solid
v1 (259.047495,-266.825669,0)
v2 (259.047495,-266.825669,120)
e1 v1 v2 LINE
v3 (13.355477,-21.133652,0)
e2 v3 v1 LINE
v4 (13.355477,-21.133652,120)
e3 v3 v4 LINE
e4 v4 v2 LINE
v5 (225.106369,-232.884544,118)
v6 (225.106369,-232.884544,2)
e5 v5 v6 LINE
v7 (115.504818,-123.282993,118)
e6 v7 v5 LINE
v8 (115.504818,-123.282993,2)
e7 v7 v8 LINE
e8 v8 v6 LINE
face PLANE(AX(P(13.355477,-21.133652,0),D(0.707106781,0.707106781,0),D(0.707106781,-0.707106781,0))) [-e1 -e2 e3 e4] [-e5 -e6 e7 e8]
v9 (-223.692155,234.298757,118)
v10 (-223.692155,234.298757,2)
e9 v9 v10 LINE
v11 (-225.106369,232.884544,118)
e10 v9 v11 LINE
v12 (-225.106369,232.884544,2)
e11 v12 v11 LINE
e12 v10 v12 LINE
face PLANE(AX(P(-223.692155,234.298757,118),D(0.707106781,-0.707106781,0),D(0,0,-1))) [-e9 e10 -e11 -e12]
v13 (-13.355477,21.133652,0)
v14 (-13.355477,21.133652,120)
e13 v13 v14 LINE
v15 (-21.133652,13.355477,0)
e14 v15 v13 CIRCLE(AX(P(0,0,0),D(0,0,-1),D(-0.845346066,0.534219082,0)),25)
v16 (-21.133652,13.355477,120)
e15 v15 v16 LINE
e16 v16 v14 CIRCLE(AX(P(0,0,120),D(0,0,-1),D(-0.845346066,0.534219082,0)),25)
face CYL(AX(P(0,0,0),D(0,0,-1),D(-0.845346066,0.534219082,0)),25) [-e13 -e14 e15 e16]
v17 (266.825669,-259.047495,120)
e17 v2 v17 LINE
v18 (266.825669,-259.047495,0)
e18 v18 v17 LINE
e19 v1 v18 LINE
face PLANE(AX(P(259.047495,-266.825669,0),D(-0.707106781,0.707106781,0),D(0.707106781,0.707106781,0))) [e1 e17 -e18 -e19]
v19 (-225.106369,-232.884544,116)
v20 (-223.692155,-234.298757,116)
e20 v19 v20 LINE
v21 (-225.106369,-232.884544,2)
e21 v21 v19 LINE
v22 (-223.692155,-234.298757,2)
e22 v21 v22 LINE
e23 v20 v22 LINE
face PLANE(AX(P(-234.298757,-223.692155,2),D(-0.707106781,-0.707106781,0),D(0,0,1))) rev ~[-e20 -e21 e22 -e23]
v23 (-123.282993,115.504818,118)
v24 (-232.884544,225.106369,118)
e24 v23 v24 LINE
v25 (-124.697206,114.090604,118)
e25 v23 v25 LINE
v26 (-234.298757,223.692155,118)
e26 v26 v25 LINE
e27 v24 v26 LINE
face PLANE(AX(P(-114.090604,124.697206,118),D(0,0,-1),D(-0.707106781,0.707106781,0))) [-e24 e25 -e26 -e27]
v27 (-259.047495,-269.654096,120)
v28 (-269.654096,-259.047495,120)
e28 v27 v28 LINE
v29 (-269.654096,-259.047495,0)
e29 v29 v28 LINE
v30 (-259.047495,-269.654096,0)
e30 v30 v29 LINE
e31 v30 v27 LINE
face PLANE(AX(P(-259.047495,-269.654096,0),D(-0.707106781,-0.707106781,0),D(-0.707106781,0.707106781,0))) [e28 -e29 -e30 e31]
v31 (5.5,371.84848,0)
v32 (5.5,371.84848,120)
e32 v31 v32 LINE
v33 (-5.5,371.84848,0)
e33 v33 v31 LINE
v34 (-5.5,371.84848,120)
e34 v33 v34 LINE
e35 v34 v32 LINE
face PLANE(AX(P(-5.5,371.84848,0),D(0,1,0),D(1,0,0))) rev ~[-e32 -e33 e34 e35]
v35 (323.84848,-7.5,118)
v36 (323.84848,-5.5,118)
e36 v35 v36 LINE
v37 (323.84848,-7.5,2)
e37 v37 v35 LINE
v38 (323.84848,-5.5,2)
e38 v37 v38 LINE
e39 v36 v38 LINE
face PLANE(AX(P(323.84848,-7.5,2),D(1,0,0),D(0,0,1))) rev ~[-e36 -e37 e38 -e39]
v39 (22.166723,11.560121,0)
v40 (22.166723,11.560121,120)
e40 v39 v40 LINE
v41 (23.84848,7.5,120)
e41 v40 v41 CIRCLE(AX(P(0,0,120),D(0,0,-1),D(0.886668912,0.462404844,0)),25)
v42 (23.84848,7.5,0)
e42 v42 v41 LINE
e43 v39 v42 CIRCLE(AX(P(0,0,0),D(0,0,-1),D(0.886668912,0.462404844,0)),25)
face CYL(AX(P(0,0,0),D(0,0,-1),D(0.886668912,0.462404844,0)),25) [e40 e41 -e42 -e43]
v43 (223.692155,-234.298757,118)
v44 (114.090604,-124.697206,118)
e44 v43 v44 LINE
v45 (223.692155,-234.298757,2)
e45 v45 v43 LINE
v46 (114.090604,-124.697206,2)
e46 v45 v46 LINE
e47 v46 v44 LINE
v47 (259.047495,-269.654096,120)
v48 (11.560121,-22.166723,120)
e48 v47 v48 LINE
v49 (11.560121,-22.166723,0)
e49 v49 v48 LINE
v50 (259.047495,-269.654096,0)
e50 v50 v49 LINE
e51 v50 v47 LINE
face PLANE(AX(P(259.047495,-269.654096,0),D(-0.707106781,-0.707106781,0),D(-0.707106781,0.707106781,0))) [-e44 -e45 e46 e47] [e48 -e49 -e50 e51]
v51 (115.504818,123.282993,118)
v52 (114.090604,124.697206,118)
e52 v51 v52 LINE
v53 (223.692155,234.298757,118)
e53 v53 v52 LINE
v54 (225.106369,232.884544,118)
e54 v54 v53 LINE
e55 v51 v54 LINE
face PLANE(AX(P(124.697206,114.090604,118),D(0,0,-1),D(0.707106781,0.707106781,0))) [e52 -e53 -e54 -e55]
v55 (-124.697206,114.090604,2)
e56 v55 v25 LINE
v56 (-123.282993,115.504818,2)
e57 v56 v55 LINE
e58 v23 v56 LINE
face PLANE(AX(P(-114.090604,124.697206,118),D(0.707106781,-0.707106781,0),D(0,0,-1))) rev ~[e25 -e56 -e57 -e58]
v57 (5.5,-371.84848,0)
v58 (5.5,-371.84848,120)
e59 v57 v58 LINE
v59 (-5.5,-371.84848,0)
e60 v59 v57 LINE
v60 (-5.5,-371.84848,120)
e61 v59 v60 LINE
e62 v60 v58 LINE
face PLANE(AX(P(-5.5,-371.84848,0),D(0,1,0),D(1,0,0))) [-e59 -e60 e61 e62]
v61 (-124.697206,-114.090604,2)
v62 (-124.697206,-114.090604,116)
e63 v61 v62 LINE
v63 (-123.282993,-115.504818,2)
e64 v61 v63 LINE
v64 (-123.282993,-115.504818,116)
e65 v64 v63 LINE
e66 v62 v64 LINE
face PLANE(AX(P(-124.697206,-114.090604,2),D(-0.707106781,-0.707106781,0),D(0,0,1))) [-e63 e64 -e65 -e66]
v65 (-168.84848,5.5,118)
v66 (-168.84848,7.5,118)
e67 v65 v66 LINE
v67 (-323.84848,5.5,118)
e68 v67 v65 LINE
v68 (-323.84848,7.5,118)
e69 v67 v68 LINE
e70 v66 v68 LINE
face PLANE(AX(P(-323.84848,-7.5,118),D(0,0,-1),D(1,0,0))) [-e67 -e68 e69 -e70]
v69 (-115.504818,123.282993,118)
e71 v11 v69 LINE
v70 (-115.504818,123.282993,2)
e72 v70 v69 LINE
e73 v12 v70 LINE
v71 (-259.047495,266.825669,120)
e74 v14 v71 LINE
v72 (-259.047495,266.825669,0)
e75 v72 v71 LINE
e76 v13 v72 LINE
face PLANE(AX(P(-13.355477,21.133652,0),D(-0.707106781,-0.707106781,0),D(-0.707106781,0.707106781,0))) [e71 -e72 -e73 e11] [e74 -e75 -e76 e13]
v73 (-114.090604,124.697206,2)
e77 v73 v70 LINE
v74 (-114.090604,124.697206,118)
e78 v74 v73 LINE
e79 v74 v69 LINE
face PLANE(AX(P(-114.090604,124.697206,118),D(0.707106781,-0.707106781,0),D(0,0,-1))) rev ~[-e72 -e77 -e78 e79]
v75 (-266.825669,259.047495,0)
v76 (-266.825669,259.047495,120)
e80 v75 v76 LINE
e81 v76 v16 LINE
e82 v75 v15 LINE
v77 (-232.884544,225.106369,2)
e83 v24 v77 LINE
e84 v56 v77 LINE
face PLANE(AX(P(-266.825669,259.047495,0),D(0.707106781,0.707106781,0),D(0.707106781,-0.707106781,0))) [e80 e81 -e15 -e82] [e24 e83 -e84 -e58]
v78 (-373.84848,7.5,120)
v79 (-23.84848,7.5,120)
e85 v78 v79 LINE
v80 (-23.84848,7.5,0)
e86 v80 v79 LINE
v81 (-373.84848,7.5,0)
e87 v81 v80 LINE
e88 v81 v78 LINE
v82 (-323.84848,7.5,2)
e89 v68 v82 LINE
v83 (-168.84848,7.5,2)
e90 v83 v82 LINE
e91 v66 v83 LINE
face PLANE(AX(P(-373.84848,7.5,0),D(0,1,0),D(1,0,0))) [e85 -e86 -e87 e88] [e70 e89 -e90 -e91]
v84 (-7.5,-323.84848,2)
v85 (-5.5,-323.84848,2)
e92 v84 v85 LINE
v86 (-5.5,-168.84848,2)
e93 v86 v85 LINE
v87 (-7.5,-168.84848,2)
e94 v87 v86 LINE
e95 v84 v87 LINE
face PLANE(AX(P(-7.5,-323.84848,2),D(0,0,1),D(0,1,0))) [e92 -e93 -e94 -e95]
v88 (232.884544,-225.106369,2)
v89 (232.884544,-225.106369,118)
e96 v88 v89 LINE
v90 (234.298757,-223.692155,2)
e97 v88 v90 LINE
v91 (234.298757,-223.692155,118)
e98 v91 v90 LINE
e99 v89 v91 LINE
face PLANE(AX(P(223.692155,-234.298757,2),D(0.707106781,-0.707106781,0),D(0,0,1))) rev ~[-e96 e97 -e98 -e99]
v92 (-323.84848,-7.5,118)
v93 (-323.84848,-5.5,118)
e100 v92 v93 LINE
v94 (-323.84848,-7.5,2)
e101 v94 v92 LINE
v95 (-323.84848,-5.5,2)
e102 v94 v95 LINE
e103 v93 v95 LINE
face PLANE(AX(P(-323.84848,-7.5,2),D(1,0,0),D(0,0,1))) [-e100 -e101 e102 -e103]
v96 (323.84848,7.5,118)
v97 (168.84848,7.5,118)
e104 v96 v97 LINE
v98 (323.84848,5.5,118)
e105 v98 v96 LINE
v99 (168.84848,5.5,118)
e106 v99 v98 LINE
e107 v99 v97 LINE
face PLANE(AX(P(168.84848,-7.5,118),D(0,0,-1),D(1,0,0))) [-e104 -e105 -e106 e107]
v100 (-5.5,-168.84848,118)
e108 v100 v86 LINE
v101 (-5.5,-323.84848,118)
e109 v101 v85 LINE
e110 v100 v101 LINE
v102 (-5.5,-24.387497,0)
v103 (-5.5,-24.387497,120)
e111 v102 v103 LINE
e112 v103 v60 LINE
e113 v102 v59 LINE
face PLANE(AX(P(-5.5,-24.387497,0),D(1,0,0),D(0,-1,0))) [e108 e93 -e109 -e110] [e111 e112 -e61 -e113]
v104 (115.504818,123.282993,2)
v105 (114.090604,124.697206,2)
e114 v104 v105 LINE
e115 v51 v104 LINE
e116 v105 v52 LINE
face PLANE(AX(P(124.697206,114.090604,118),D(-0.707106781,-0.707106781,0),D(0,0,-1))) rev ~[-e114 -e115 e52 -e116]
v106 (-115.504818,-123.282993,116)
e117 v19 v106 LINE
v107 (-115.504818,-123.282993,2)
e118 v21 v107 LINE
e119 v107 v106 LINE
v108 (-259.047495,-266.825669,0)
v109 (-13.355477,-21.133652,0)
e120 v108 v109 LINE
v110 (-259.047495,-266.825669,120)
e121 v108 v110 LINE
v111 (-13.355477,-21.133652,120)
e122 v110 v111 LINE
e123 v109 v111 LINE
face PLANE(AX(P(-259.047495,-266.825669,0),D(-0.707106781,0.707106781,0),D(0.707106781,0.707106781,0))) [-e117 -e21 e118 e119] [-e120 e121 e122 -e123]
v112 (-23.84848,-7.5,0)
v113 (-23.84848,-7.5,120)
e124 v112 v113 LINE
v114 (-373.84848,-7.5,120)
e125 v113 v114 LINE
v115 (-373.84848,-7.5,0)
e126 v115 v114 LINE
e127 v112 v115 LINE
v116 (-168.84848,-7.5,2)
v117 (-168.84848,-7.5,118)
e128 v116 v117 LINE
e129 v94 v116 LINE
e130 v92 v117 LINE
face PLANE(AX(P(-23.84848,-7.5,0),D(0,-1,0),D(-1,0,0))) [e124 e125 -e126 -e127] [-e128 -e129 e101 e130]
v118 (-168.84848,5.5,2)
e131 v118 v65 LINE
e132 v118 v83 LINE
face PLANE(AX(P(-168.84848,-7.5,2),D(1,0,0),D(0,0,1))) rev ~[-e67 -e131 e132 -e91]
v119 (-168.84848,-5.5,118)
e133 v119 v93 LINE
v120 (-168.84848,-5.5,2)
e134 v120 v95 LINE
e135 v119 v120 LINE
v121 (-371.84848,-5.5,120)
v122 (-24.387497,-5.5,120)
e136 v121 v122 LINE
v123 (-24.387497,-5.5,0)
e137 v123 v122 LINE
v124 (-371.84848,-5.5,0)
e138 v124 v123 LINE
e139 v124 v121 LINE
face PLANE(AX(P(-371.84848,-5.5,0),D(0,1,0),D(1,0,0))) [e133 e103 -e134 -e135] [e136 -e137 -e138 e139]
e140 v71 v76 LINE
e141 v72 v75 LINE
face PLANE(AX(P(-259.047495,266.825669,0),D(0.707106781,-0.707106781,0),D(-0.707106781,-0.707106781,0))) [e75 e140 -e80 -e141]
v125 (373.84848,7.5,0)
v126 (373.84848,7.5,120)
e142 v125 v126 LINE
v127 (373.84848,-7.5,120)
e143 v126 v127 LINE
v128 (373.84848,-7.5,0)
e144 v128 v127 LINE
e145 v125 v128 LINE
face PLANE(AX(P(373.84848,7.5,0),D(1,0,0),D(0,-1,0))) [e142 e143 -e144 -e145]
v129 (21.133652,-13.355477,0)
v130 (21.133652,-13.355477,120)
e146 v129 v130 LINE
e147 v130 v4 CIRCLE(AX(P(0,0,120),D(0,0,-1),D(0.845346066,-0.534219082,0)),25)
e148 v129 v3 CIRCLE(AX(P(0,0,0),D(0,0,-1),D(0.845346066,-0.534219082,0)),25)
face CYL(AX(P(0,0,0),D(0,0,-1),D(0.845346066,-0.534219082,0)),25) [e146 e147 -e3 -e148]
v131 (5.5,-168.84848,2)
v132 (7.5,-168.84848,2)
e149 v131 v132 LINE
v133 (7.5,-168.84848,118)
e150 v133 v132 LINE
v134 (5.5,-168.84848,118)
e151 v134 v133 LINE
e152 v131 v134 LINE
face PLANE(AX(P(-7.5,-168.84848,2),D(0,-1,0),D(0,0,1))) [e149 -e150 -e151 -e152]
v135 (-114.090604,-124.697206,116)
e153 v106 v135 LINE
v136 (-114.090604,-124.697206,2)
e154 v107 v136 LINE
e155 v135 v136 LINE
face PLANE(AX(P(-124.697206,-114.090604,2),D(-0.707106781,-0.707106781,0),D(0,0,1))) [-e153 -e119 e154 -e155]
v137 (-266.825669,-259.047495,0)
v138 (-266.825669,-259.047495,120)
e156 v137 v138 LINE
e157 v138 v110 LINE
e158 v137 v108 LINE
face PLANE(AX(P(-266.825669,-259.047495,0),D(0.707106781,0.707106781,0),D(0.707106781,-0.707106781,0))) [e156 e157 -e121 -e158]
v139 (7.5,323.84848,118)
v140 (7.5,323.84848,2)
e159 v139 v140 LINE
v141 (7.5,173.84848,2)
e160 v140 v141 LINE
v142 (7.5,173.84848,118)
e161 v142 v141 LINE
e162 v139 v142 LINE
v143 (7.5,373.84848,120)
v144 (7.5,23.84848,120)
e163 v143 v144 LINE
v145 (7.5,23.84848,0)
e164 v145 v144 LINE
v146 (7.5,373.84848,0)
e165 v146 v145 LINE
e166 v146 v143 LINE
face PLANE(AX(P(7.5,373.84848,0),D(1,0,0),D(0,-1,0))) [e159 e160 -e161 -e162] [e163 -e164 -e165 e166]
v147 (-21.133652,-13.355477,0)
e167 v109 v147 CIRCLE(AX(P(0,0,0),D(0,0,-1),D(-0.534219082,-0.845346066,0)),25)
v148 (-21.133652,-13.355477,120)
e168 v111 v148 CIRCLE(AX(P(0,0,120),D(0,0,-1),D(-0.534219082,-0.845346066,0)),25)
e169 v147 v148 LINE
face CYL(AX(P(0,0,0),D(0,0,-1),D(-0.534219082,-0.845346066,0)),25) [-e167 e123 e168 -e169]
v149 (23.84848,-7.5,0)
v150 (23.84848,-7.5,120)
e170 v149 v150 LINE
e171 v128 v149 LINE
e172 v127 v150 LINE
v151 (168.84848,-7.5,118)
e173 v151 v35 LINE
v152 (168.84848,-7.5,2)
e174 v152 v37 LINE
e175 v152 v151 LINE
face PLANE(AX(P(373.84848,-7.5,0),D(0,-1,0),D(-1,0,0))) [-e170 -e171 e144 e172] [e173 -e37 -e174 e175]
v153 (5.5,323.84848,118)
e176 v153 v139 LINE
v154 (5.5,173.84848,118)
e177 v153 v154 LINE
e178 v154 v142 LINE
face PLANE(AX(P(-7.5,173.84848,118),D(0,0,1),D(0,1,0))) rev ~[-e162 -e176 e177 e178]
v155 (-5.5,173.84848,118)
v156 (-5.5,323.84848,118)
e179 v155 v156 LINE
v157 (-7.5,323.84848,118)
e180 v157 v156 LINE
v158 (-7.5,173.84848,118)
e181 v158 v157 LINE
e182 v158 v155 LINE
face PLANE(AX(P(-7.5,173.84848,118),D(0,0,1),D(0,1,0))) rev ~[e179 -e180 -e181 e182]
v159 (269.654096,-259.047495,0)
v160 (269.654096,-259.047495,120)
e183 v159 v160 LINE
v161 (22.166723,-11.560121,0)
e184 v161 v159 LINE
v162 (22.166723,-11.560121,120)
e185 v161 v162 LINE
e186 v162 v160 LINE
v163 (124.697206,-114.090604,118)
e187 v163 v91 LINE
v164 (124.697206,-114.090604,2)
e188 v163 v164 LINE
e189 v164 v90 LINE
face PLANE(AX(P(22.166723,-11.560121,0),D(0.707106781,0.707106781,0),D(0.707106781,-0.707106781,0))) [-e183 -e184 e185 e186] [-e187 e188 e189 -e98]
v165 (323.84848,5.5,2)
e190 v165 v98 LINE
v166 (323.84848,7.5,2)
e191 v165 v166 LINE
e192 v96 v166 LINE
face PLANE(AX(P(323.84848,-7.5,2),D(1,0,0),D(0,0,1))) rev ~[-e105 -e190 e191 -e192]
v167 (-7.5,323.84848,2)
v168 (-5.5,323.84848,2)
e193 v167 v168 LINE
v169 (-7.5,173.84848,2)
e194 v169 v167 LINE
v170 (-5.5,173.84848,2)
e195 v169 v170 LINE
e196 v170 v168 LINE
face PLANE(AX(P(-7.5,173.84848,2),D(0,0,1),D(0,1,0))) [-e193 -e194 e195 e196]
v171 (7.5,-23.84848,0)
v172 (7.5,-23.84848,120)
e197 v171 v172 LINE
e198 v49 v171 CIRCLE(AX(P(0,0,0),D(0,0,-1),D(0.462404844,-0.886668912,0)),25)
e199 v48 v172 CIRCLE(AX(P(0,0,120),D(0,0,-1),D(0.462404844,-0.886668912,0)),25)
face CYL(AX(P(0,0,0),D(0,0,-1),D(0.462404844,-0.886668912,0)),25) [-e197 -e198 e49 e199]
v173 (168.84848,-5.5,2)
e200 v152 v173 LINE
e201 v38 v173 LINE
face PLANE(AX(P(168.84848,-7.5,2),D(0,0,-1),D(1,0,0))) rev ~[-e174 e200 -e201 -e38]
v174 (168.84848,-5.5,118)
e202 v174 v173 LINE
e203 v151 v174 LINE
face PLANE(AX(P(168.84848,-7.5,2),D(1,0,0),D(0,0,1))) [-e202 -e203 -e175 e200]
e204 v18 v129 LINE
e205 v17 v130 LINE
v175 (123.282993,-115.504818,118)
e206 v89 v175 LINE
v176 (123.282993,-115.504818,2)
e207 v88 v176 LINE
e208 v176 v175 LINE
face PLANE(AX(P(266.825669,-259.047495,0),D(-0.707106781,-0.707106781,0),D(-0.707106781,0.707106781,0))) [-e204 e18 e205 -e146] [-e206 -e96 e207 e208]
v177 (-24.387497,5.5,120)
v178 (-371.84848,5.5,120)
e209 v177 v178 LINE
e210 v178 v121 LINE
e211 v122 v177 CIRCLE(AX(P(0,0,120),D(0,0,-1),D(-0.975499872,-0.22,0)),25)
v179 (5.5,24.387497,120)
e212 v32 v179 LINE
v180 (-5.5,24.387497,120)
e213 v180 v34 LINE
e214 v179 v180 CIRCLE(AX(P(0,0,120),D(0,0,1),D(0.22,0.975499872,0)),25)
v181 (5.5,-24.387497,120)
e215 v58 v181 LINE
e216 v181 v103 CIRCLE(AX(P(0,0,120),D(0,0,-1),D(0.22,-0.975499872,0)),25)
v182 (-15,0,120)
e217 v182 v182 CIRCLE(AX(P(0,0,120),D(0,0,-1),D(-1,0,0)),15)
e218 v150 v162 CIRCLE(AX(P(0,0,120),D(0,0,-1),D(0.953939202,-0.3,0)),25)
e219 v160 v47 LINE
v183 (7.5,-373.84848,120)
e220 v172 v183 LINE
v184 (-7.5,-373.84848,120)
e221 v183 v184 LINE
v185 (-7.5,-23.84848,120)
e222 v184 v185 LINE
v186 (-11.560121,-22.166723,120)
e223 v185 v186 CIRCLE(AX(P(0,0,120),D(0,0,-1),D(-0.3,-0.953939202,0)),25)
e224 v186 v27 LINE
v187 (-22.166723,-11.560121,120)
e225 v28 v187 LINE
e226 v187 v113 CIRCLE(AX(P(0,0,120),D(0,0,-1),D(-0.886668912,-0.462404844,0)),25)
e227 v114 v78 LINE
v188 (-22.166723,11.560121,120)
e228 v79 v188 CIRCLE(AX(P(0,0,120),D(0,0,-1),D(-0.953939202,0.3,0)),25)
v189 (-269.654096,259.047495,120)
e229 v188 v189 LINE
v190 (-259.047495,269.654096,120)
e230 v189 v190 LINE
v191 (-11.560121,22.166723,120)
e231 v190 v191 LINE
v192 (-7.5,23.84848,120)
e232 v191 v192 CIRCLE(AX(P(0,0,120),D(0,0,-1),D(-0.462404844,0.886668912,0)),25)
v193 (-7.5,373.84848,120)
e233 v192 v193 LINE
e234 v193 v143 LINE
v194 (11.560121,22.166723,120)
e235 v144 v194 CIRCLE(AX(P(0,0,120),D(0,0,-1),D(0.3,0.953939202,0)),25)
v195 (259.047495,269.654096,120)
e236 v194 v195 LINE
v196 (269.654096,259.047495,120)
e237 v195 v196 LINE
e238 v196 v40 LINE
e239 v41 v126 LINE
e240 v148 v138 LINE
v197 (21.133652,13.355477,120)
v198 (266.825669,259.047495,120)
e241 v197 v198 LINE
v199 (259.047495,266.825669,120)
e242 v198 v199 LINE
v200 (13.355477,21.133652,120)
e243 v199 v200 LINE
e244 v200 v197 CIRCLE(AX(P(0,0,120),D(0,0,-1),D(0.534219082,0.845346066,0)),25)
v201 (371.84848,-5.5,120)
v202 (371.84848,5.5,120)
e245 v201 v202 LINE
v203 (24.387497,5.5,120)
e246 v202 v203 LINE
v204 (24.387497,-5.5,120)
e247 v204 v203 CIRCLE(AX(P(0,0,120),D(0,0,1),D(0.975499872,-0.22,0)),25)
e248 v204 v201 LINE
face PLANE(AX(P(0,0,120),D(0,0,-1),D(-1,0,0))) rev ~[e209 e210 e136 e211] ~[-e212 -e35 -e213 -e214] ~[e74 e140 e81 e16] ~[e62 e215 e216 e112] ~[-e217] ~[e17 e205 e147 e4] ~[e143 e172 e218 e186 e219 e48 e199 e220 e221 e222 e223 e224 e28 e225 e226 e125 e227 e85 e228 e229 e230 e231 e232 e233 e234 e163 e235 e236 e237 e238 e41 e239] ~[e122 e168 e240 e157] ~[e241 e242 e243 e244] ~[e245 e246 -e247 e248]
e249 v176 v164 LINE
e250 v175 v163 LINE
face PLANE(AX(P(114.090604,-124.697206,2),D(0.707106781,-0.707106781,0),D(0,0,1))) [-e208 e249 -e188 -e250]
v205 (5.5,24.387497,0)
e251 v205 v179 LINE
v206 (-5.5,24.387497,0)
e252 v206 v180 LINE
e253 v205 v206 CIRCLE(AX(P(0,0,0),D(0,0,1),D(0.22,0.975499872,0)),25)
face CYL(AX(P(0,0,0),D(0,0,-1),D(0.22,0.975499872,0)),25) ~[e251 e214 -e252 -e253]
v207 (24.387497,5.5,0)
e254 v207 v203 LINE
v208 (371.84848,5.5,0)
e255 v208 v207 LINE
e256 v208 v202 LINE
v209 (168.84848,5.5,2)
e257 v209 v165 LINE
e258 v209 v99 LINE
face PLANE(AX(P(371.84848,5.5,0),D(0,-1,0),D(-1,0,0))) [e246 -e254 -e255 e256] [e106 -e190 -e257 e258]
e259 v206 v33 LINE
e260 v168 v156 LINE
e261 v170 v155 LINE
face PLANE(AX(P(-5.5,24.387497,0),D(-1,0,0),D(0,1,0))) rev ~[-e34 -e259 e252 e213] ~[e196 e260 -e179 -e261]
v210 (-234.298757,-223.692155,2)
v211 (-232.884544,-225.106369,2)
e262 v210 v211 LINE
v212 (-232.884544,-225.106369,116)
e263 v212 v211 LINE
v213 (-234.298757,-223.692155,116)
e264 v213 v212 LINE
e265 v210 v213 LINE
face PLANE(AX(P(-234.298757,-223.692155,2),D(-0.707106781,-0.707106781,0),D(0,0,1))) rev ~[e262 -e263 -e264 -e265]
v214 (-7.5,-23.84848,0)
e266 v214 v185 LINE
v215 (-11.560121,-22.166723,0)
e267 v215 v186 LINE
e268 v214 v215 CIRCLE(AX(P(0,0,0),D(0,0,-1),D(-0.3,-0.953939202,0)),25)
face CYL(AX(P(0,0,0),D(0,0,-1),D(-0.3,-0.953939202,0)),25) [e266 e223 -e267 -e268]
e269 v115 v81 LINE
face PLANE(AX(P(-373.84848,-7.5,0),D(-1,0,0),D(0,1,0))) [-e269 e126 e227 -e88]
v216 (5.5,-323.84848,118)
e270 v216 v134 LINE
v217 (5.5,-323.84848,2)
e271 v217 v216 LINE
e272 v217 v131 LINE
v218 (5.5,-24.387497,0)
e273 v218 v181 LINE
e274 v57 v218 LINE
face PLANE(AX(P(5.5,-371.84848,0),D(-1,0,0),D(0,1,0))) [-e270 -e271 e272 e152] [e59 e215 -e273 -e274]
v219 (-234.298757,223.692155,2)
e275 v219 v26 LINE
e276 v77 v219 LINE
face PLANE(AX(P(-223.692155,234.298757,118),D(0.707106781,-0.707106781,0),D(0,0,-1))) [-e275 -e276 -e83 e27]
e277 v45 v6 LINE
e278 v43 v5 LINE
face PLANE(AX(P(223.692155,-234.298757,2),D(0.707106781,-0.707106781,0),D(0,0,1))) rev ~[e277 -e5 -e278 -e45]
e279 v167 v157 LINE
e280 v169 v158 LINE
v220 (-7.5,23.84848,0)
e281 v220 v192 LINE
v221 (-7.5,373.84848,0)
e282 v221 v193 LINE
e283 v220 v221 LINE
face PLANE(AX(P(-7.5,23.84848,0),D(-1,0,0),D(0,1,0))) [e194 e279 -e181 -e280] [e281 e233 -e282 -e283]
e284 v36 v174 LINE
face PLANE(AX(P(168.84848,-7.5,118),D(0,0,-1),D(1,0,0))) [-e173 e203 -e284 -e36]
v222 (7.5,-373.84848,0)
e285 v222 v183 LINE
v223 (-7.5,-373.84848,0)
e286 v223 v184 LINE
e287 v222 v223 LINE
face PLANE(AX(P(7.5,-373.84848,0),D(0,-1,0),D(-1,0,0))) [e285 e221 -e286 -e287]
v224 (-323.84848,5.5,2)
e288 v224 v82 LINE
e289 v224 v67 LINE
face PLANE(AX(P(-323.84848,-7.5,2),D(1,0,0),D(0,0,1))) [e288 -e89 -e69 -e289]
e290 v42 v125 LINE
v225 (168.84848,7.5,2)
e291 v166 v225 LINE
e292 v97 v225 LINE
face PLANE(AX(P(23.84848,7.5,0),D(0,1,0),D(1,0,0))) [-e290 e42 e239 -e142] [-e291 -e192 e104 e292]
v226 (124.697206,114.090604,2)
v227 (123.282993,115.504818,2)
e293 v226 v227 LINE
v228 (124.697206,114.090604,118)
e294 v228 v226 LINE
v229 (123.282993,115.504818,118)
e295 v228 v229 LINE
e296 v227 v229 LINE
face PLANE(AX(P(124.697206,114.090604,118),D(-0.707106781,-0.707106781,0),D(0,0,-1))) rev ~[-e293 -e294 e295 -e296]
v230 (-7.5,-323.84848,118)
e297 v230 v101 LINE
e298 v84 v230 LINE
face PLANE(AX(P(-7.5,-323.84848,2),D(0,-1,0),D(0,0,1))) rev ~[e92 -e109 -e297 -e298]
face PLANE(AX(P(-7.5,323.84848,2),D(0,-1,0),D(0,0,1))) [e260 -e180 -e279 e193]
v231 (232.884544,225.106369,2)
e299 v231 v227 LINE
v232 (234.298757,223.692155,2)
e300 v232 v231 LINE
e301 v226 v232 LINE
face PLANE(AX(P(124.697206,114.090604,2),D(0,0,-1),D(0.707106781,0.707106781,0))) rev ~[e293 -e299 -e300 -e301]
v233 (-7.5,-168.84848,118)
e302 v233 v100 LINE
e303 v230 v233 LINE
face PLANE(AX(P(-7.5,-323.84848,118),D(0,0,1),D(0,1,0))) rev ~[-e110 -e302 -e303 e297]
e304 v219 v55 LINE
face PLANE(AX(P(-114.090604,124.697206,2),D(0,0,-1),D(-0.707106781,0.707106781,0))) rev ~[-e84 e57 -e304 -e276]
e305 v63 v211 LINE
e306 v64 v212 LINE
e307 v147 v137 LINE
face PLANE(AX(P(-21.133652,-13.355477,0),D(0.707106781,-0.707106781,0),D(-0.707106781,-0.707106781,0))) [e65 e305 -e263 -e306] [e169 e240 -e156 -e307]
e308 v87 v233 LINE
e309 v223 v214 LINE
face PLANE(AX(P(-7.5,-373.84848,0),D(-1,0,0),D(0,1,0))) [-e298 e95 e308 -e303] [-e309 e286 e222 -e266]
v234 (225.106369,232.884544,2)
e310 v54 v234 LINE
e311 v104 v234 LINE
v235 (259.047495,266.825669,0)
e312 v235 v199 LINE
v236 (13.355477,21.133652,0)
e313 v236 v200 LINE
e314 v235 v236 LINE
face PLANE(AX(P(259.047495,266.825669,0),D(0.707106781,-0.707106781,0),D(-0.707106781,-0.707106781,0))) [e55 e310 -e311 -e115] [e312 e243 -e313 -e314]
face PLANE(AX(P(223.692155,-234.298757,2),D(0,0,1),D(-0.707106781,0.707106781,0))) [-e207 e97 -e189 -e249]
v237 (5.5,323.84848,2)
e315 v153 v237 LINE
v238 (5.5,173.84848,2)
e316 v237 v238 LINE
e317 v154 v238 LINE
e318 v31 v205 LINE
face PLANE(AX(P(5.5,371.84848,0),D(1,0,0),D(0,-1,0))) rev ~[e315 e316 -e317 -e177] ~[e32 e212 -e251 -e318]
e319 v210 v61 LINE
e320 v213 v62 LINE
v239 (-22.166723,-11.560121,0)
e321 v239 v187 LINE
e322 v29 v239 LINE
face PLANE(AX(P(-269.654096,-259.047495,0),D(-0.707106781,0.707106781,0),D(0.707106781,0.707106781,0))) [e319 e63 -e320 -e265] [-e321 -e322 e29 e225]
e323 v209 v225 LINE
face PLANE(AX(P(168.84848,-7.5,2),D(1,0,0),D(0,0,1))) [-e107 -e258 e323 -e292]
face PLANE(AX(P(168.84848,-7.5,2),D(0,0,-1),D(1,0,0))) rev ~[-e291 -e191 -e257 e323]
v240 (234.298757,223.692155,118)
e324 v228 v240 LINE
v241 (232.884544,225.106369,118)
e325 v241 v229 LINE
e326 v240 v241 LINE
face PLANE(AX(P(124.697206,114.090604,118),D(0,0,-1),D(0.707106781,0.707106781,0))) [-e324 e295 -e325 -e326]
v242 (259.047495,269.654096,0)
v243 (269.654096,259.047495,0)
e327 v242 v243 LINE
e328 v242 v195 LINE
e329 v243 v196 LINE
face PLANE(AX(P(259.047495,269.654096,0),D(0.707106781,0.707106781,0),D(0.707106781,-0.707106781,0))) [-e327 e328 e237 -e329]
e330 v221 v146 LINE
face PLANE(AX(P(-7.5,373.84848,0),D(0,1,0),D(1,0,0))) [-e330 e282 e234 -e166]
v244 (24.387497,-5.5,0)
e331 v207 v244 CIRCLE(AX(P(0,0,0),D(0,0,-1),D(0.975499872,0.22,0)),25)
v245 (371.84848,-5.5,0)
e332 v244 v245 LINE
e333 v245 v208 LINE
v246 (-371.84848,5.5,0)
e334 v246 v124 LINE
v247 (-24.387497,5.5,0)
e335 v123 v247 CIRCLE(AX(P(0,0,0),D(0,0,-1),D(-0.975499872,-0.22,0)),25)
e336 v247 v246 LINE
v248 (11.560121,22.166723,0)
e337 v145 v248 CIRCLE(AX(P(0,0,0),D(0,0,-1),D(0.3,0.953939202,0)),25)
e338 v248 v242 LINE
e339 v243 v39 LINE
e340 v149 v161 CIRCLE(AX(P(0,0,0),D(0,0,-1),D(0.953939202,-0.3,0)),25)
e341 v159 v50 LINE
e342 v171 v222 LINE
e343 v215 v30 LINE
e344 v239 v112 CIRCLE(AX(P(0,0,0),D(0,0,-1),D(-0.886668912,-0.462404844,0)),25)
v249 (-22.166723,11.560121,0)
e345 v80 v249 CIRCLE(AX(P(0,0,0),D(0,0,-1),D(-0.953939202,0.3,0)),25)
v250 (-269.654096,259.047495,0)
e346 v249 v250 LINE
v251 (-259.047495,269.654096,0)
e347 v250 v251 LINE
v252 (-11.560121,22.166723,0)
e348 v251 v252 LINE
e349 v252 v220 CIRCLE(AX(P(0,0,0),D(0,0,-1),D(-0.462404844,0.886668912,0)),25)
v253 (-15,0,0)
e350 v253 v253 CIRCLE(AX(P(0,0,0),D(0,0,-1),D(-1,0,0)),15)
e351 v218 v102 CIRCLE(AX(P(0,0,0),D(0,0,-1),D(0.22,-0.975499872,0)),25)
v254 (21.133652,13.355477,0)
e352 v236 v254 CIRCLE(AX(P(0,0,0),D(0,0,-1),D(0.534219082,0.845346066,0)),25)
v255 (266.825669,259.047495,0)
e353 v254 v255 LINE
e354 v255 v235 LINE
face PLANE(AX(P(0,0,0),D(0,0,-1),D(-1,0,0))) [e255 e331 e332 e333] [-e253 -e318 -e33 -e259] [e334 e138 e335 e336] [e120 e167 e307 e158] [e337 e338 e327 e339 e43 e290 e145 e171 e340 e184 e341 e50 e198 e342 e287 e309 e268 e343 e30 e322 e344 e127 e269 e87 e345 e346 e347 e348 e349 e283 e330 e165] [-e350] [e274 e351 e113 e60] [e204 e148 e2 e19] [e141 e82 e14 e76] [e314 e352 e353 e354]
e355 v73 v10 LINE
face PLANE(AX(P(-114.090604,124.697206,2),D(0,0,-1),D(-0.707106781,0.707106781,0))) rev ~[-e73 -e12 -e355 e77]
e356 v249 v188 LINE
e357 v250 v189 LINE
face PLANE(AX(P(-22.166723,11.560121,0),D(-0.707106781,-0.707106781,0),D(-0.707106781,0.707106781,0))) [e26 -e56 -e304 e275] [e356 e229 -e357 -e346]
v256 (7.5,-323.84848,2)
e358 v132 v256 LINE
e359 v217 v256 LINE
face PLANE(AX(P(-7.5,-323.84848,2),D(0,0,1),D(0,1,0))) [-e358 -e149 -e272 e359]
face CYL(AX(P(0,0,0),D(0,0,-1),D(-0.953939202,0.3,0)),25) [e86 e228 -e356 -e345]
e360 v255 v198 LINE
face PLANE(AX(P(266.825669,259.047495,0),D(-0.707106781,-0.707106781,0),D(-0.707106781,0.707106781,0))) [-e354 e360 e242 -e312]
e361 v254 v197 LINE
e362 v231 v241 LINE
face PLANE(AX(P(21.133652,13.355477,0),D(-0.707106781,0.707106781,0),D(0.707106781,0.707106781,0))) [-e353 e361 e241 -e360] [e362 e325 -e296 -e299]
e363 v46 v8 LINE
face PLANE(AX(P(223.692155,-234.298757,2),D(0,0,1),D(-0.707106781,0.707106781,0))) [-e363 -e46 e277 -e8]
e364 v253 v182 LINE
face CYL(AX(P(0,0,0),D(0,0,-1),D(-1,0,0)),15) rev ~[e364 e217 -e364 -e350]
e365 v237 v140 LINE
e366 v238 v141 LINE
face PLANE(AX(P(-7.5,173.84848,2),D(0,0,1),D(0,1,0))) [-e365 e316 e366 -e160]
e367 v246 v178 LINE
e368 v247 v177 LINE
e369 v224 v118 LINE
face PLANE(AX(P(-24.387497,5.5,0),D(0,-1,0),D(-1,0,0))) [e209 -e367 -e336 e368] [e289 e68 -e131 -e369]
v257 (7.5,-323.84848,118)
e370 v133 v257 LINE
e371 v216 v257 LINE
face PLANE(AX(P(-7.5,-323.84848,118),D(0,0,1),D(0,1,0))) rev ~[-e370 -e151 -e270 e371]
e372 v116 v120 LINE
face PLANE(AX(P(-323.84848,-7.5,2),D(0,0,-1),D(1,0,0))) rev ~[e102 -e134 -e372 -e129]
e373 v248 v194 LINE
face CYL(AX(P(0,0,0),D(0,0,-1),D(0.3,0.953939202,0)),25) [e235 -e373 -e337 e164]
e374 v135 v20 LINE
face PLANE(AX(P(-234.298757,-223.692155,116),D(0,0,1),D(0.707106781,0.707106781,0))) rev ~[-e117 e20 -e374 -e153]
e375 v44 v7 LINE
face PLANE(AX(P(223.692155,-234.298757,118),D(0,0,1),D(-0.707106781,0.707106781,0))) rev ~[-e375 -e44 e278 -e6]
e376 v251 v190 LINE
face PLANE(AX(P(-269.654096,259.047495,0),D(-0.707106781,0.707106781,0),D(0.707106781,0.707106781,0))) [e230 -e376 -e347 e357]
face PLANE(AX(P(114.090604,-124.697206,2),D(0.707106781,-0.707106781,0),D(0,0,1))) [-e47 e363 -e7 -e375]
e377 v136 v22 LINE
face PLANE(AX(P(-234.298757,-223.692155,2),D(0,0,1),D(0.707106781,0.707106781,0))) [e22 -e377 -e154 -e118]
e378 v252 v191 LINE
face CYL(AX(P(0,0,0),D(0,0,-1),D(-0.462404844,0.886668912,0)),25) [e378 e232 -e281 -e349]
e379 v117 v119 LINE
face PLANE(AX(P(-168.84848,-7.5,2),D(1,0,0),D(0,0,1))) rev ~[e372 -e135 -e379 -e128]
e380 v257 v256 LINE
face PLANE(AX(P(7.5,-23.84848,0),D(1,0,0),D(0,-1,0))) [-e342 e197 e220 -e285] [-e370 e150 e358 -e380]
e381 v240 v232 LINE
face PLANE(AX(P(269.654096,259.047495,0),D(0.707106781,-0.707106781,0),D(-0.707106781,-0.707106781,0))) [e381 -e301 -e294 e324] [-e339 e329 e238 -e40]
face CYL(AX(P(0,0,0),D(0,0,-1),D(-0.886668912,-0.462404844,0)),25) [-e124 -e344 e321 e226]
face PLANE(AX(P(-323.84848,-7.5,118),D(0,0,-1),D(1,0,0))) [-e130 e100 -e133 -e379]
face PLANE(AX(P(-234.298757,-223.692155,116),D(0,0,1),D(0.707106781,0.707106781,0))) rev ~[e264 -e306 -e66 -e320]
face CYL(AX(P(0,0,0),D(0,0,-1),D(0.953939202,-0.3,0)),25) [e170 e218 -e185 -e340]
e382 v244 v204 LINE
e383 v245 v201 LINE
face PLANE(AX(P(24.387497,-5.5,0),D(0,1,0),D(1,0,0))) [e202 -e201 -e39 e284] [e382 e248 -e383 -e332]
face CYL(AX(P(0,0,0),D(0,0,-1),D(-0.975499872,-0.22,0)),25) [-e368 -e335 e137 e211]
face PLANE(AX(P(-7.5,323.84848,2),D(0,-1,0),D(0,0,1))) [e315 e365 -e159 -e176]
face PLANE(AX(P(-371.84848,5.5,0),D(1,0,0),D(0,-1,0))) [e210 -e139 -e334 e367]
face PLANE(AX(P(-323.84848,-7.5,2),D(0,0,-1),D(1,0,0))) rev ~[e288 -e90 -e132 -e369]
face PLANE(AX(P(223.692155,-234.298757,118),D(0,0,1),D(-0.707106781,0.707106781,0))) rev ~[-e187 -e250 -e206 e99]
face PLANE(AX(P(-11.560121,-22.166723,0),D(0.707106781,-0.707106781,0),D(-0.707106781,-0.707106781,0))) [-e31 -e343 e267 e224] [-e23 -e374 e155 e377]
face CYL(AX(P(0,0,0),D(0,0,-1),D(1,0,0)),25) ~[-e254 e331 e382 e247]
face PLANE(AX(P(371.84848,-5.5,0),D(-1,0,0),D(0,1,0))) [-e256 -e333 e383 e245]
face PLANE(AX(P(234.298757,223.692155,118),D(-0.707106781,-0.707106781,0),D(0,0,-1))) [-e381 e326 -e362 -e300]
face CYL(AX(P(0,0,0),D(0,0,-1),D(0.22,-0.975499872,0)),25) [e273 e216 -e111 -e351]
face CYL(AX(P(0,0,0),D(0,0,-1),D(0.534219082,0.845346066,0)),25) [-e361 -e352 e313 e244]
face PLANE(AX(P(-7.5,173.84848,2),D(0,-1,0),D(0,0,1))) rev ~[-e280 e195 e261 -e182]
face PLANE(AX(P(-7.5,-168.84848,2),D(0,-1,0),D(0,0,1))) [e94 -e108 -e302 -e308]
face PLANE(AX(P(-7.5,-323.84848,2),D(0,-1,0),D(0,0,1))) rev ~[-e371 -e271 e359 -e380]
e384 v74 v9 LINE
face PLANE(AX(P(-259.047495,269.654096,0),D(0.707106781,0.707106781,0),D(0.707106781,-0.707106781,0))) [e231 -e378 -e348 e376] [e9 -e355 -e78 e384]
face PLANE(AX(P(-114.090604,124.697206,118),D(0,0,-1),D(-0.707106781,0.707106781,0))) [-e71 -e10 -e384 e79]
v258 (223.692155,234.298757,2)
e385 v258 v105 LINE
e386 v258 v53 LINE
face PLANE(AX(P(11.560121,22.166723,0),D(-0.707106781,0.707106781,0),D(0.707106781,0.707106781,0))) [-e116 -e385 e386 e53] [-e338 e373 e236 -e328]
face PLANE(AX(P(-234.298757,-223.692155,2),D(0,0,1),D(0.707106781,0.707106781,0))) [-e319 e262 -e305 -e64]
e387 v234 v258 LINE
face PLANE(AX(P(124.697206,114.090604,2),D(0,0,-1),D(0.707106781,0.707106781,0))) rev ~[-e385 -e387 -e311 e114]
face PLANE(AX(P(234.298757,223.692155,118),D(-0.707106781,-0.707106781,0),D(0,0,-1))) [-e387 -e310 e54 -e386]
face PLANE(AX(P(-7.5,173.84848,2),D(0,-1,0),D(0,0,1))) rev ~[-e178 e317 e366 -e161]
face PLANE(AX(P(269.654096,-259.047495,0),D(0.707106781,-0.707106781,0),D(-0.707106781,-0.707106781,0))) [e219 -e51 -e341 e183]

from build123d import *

# Parameters (mm, degrees)
SKETCH1_R           = 25
BOSS_EXTRUDE1_DEPTH = 120
BOSS_EXTRUDE3_DEPTH = 120
SKETCH5_W           = 116
SKETCH5_H           = 155
CUT_EXTRUDE1_DEPTH  = 20
SKETCH6_W           = 116
SKETCH6_H           = 150
CUT_EXTRUDE2_DEPTH  = 20
SKETCH7_W           = 116
SKETCH7_H           = 155
CUT_EXTRUDE3_DEPTH  = 20
SKETCH8_W           = 155
SKETCH8_H           = 116
CUT_EXTRUDE4_DEPTH  = 20
SKETCH9_W           = 114
SKETCH9_H           = 155
CUT_EXTRUDE5_DEPTH  = 20
SKETCH10_W          = 155
SKETCH10_H          = 116
CUT_EXTRUDE6_DEPTH  = 20
SKETCH12_W          = 116
SKETCH12_H          = 155
CUT_EXTRUDE7_DEPTH  = 20
SKETCH13_W          = 116
SKETCH13_H          = 155
CUT_EXTRUDE8_DEPTH  = 20
SKETCH14_R          = 15
CUT_EXTRUDE11_DEPTH = 543.148846766


with BuildPart() as part:
    # Sketch1 → Boss-Extrude1 (new body)
    with BuildSketch(Plane.XY):
        Circle(SKETCH1_R)
    extrude(amount=BOSS_EXTRUDE1_DEPTH)

    # Sketch2 → Boss-Extrude3 (add)
    with BuildSketch(Plane.XY):
        with BuildLine():
            Line((11.560121095, 22.166722813), (259.04749451, 269.654096228))
            Line((259.04749451, 269.654096228), (269.654096228, 259.04749451))
            Line((269.654096228, 259.04749451), (22.166722813, 11.560121095))
            ThreePointArc((22.166722813, 11.560121095), (23.096988313, 9.567085809), (23.848480035, 7.5))
            Line((23.848480035, 7.5), (373.848480035, 7.5))
            Line((373.848480035, 7.5), (373.848480035, -7.5))
            Line((373.848480035, -7.5), (23.848480035, -7.5))
            ThreePointArc((23.848480035, -7.5), (23.096988313, -9.567085809), (22.166722813, -11.560121095))
            Line((22.166722813, -11.560121095), (269.654096228, -259.04749451))
            Line((269.654096228, -259.04749451), (259.04749451, -269.654096228))
            Line((259.04749451, -269.654096228), (11.560121095, -22.166722813))
            ThreePointArc((11.560121095, -22.166722813), (9.567085809, -23.096988313), (7.5, -23.848480035))
            Line((7.5, -23.848480035), (7.5, -373.848480035))
            Line((7.5, -373.848480035), (-7.5, -373.848480035))
            Line((-7.5, -373.848480035), (-7.5, -23.848480035))
            ThreePointArc((-7.5, -23.848480035), (-9.567085809, -23.096988313), (-11.560121095, -22.166722813))
            Line((-11.560121095, -22.166722813), (-259.04749451, -269.654096228))
            Line((-259.04749451, -269.654096228), (-269.654096228, -259.04749451))
            Line((-269.654096228, -259.04749451), (-22.166722813, -11.560121095))
            ThreePointArc((-22.166722813, -11.560121095), (-23.096988313, -9.567085809), (-23.848480035, -7.5))
            Line((-23.848480035, -7.5), (-373.848480035, -7.5))
            Line((-373.848480035, -7.5), (-373.848480035, 7.5))
            Line((-373.848480035, 7.5), (-23.848480035, 7.5))
            ThreePointArc((-23.848480035, 7.5), (-23.096988313, 9.567085809), (-22.166722813, 11.560121095))
            Line((-22.166722813, 11.560121095), (-269.654096228, 259.04749451))
            Line((-269.654096228, 259.04749451), (-259.04749451, 269.654096228))
            Line((-259.04749451, 269.654096228), (-11.560121095, 22.166722813))
            ThreePointArc((-11.560121095, 22.166722813), (-9.567085809, 23.096988313), (-7.5, 23.848480035))
            Line((-7.5, 23.848480035), (-7.5, 373.848480035))
            Line((-7.5, 373.848480035), (7.5, 373.848480035))
            Line((7.5, 373.848480035), (7.5, 23.848480035))
            ThreePointArc((7.5, 23.848480035), (9.567085809, 23.096988313), (11.560121095, 22.166722813))
        make_face()
        with BuildLine():
            Line((259.04749451, 266.825669103), (13.355477064, 21.133651658))
            ThreePointArc((13.355477064, 21.133651658), (17.67766953, 17.67766953), (21.133651658, 13.355477064))
            Line((21.133651658, 13.355477064), (266.825669103, 259.04749451))
            Line((266.825669103, 259.04749451), (259.04749451, 266.825669103))
        make_face(mode=Mode.SUBTRACT)
        with BuildLine():
            Line((-5.5, 371.848480035), (5.5, 371.848480035))
            Line((5.5, 371.848480035), (5.5, 24.387496797))
            ThreePointArc((5.5, 24.387496797), (0, 25), (-5.5, 24.387496797))
            Line((-5.5, 24.387496797), (-5.5, 371.848480035))
        make_face(mode=Mode.SUBTRACT)
        with BuildLine():
            Line((371.848480035, 5.5), (24.387496797, 5.5))
            ThreePointArc((24.387496797, 5.5), (25, 0), (24.387496797, -5.5))
            Line((24.387496797, -5.5), (371.848480035, -5.5))
            Line((371.848480035, -5.5), (371.848480035, 5.5))
        make_face(mode=Mode.SUBTRACT)
        with BuildLine():
            Line((266.825669103, -259.04749451), (21.133651658, -13.355477064))
            ThreePointArc((21.133651658, -13.355477064), (17.67766953, -17.67766953), (13.355477064, -21.133651658))
            Line((13.355477064, -21.133651658), (259.04749451, -266.825669103))
            Line((259.04749451, -266.825669103), (266.825669103, -259.04749451))
        make_face(mode=Mode.SUBTRACT)
        with BuildLine():
            Line((5.5, -371.848480035), (5.5, -24.387496797))
            ThreePointArc((5.5, -24.387496797), (0, -25), (-5.5, -24.387496797))
            Line((-5.5, -24.387496797), (-5.5, -371.848480035))
            Line((-5.5, -371.848480035), (5.5, -371.848480035))
        make_face(mode=Mode.SUBTRACT)
        with BuildLine():
            Line((-259.04749451, -266.825669103), (-13.355477064, -21.133651658))
            ThreePointArc((-13.355477064, -21.133651658), (-17.67766953, -17.67766953), (-21.133651658, -13.355477064))
            Line((-21.133651658, -13.355477064), (-266.825669103, -259.04749451))
            Line((-266.825669103, -259.04749451), (-259.04749451, -266.825669103))
        make_face(mode=Mode.SUBTRACT)
        with BuildLine():
            Line((-371.848480035, -5.5), (-24.387496797, -5.5))
            ThreePointArc((-24.387496797, -5.5), (-25, 0), (-24.387496797, 5.5))
            Line((-24.387496797, 5.5), (-371.848480035, 5.5))
            Line((-371.848480035, 5.5), (-371.848480035, -5.5))
        make_face(mode=Mode.SUBTRACT)
        with BuildLine():
            Line((-266.825669103, 259.04749451), (-21.133651658, 13.355477064))
            ThreePointArc((-21.133651658, 13.355477064), (-17.67766953, 17.67766953), (-13.355477064, 21.133651658))
            Line((-13.355477064, 21.133651658), (-259.04749451, 266.825669103))
            Line((-259.04749451, 266.825669103), (-266.825669103, 259.04749451))
        make_face(mode=Mode.SUBTRACT)
    extrude(amount=BOSS_EXTRUDE3_DEPTH)

    # Sketch5 → Cut-Extrude1 (cut)
    with BuildSketch(Plane(origin=(5.303300859, 5.303300859, 0), x_dir=(0, 0, -1), z_dir=(0.7071067811865304, 0.7071067811865648, 0))):
        with Locations((-60, 246.348480035)):
            Rectangle(SKETCH5_W, SKETCH5_H)
    extrude(amount=-CUT_EXTRUDE1_DEPTH, mode=Mode.SUBTRACT)

    # Sketch6 → Cut-Extrude2 (cut)
    with BuildSketch(Plane.ZY.offset(7.5)):
        with Locations((60, 248.848480035)):
            Rectangle(SKETCH6_W, SKETCH6_H)
    extrude(amount=-CUT_EXTRUDE2_DEPTH, mode=Mode.SUBTRACT)

    # Sketch7 → Cut-Extrude3 (cut)
    with BuildSketch(Plane(origin=(5.303300859, -5.303300859, 0), x_dir=(0, 0, -1), z_dir=(0.7071067811865477, -0.7071067811865475, 0))):
        with Locations((-60, 246.348480035)):
            Rectangle(SKETCH7_W, SKETCH7_H)
    extrude(amount=-CUT_EXTRUDE3_DEPTH, mode=Mode.SUBTRACT)

    # Sketch8 → Cut-Extrude4 (cut)
    with BuildSketch(Plane.XZ.offset(7.5)):
        with Locations((-246.348480035, 60)):
            Rectangle(SKETCH8_W, SKETCH8_H)
    extrude(amount=-CUT_EXTRUDE4_DEPTH, mode=Mode.SUBTRACT)

    # Sketch9 → Cut-Extrude5 (cut)
    with BuildSketch(Plane(origin=(-5.303300859, 5.303300859, 0), x_dir=(0, 0, 1), z_dir=(-0.7071067811865476, 0.7071067811865476, 0))):
        with Locations((59, -246.348480035)):
            Rectangle(SKETCH9_W, SKETCH9_H)
    extrude(amount=-CUT_EXTRUDE5_DEPTH, mode=Mode.SUBTRACT)

    # Sketch10 → Cut-Extrude6 (cut)
    with BuildSketch(Plane.XZ.offset(7.5)):
        with Locations((246.348480035, 60)):
            Rectangle(SKETCH10_W, SKETCH10_H)
    extrude(amount=-CUT_EXTRUDE6_DEPTH, mode=Mode.SUBTRACT)

    # Sketch12 → Cut-Extrude7 (cut)
    with BuildSketch(Plane.ZY.offset(7.5)):
        with Locations((60, -246.348480035)):
            Rectangle(SKETCH12_W, SKETCH12_H)
    extrude(amount=-CUT_EXTRUDE7_DEPTH, mode=Mode.SUBTRACT)

    # Sketch13 → Cut-Extrude8 (cut)
    with BuildSketch(Plane(origin=(-5.303300859, -5.303300859, 0), x_dir=(0, 0, 1), z_dir=(-0.7071067811865477, -0.7071067811865475, 0))):
        with Locations((60, -246.348480035)):
            Rectangle(SKETCH13_W, SKETCH13_H)
    extrude(amount=-CUT_EXTRUDE8_DEPTH, mode=Mode.SUBTRACT)

    # Sketch14 → Cut-Extrude11 (cut, through all)
    with BuildSketch(Plane(origin=(0, 0, 0), x_dir=(-1, 0, 0), z_dir=(0, 0, -1))):
        Circle(SKETCH14_R)
    extrude(amount=-CUT_EXTRUDE11_DEPTH, mode=Mode.SUBTRACT)


solid = part.part
